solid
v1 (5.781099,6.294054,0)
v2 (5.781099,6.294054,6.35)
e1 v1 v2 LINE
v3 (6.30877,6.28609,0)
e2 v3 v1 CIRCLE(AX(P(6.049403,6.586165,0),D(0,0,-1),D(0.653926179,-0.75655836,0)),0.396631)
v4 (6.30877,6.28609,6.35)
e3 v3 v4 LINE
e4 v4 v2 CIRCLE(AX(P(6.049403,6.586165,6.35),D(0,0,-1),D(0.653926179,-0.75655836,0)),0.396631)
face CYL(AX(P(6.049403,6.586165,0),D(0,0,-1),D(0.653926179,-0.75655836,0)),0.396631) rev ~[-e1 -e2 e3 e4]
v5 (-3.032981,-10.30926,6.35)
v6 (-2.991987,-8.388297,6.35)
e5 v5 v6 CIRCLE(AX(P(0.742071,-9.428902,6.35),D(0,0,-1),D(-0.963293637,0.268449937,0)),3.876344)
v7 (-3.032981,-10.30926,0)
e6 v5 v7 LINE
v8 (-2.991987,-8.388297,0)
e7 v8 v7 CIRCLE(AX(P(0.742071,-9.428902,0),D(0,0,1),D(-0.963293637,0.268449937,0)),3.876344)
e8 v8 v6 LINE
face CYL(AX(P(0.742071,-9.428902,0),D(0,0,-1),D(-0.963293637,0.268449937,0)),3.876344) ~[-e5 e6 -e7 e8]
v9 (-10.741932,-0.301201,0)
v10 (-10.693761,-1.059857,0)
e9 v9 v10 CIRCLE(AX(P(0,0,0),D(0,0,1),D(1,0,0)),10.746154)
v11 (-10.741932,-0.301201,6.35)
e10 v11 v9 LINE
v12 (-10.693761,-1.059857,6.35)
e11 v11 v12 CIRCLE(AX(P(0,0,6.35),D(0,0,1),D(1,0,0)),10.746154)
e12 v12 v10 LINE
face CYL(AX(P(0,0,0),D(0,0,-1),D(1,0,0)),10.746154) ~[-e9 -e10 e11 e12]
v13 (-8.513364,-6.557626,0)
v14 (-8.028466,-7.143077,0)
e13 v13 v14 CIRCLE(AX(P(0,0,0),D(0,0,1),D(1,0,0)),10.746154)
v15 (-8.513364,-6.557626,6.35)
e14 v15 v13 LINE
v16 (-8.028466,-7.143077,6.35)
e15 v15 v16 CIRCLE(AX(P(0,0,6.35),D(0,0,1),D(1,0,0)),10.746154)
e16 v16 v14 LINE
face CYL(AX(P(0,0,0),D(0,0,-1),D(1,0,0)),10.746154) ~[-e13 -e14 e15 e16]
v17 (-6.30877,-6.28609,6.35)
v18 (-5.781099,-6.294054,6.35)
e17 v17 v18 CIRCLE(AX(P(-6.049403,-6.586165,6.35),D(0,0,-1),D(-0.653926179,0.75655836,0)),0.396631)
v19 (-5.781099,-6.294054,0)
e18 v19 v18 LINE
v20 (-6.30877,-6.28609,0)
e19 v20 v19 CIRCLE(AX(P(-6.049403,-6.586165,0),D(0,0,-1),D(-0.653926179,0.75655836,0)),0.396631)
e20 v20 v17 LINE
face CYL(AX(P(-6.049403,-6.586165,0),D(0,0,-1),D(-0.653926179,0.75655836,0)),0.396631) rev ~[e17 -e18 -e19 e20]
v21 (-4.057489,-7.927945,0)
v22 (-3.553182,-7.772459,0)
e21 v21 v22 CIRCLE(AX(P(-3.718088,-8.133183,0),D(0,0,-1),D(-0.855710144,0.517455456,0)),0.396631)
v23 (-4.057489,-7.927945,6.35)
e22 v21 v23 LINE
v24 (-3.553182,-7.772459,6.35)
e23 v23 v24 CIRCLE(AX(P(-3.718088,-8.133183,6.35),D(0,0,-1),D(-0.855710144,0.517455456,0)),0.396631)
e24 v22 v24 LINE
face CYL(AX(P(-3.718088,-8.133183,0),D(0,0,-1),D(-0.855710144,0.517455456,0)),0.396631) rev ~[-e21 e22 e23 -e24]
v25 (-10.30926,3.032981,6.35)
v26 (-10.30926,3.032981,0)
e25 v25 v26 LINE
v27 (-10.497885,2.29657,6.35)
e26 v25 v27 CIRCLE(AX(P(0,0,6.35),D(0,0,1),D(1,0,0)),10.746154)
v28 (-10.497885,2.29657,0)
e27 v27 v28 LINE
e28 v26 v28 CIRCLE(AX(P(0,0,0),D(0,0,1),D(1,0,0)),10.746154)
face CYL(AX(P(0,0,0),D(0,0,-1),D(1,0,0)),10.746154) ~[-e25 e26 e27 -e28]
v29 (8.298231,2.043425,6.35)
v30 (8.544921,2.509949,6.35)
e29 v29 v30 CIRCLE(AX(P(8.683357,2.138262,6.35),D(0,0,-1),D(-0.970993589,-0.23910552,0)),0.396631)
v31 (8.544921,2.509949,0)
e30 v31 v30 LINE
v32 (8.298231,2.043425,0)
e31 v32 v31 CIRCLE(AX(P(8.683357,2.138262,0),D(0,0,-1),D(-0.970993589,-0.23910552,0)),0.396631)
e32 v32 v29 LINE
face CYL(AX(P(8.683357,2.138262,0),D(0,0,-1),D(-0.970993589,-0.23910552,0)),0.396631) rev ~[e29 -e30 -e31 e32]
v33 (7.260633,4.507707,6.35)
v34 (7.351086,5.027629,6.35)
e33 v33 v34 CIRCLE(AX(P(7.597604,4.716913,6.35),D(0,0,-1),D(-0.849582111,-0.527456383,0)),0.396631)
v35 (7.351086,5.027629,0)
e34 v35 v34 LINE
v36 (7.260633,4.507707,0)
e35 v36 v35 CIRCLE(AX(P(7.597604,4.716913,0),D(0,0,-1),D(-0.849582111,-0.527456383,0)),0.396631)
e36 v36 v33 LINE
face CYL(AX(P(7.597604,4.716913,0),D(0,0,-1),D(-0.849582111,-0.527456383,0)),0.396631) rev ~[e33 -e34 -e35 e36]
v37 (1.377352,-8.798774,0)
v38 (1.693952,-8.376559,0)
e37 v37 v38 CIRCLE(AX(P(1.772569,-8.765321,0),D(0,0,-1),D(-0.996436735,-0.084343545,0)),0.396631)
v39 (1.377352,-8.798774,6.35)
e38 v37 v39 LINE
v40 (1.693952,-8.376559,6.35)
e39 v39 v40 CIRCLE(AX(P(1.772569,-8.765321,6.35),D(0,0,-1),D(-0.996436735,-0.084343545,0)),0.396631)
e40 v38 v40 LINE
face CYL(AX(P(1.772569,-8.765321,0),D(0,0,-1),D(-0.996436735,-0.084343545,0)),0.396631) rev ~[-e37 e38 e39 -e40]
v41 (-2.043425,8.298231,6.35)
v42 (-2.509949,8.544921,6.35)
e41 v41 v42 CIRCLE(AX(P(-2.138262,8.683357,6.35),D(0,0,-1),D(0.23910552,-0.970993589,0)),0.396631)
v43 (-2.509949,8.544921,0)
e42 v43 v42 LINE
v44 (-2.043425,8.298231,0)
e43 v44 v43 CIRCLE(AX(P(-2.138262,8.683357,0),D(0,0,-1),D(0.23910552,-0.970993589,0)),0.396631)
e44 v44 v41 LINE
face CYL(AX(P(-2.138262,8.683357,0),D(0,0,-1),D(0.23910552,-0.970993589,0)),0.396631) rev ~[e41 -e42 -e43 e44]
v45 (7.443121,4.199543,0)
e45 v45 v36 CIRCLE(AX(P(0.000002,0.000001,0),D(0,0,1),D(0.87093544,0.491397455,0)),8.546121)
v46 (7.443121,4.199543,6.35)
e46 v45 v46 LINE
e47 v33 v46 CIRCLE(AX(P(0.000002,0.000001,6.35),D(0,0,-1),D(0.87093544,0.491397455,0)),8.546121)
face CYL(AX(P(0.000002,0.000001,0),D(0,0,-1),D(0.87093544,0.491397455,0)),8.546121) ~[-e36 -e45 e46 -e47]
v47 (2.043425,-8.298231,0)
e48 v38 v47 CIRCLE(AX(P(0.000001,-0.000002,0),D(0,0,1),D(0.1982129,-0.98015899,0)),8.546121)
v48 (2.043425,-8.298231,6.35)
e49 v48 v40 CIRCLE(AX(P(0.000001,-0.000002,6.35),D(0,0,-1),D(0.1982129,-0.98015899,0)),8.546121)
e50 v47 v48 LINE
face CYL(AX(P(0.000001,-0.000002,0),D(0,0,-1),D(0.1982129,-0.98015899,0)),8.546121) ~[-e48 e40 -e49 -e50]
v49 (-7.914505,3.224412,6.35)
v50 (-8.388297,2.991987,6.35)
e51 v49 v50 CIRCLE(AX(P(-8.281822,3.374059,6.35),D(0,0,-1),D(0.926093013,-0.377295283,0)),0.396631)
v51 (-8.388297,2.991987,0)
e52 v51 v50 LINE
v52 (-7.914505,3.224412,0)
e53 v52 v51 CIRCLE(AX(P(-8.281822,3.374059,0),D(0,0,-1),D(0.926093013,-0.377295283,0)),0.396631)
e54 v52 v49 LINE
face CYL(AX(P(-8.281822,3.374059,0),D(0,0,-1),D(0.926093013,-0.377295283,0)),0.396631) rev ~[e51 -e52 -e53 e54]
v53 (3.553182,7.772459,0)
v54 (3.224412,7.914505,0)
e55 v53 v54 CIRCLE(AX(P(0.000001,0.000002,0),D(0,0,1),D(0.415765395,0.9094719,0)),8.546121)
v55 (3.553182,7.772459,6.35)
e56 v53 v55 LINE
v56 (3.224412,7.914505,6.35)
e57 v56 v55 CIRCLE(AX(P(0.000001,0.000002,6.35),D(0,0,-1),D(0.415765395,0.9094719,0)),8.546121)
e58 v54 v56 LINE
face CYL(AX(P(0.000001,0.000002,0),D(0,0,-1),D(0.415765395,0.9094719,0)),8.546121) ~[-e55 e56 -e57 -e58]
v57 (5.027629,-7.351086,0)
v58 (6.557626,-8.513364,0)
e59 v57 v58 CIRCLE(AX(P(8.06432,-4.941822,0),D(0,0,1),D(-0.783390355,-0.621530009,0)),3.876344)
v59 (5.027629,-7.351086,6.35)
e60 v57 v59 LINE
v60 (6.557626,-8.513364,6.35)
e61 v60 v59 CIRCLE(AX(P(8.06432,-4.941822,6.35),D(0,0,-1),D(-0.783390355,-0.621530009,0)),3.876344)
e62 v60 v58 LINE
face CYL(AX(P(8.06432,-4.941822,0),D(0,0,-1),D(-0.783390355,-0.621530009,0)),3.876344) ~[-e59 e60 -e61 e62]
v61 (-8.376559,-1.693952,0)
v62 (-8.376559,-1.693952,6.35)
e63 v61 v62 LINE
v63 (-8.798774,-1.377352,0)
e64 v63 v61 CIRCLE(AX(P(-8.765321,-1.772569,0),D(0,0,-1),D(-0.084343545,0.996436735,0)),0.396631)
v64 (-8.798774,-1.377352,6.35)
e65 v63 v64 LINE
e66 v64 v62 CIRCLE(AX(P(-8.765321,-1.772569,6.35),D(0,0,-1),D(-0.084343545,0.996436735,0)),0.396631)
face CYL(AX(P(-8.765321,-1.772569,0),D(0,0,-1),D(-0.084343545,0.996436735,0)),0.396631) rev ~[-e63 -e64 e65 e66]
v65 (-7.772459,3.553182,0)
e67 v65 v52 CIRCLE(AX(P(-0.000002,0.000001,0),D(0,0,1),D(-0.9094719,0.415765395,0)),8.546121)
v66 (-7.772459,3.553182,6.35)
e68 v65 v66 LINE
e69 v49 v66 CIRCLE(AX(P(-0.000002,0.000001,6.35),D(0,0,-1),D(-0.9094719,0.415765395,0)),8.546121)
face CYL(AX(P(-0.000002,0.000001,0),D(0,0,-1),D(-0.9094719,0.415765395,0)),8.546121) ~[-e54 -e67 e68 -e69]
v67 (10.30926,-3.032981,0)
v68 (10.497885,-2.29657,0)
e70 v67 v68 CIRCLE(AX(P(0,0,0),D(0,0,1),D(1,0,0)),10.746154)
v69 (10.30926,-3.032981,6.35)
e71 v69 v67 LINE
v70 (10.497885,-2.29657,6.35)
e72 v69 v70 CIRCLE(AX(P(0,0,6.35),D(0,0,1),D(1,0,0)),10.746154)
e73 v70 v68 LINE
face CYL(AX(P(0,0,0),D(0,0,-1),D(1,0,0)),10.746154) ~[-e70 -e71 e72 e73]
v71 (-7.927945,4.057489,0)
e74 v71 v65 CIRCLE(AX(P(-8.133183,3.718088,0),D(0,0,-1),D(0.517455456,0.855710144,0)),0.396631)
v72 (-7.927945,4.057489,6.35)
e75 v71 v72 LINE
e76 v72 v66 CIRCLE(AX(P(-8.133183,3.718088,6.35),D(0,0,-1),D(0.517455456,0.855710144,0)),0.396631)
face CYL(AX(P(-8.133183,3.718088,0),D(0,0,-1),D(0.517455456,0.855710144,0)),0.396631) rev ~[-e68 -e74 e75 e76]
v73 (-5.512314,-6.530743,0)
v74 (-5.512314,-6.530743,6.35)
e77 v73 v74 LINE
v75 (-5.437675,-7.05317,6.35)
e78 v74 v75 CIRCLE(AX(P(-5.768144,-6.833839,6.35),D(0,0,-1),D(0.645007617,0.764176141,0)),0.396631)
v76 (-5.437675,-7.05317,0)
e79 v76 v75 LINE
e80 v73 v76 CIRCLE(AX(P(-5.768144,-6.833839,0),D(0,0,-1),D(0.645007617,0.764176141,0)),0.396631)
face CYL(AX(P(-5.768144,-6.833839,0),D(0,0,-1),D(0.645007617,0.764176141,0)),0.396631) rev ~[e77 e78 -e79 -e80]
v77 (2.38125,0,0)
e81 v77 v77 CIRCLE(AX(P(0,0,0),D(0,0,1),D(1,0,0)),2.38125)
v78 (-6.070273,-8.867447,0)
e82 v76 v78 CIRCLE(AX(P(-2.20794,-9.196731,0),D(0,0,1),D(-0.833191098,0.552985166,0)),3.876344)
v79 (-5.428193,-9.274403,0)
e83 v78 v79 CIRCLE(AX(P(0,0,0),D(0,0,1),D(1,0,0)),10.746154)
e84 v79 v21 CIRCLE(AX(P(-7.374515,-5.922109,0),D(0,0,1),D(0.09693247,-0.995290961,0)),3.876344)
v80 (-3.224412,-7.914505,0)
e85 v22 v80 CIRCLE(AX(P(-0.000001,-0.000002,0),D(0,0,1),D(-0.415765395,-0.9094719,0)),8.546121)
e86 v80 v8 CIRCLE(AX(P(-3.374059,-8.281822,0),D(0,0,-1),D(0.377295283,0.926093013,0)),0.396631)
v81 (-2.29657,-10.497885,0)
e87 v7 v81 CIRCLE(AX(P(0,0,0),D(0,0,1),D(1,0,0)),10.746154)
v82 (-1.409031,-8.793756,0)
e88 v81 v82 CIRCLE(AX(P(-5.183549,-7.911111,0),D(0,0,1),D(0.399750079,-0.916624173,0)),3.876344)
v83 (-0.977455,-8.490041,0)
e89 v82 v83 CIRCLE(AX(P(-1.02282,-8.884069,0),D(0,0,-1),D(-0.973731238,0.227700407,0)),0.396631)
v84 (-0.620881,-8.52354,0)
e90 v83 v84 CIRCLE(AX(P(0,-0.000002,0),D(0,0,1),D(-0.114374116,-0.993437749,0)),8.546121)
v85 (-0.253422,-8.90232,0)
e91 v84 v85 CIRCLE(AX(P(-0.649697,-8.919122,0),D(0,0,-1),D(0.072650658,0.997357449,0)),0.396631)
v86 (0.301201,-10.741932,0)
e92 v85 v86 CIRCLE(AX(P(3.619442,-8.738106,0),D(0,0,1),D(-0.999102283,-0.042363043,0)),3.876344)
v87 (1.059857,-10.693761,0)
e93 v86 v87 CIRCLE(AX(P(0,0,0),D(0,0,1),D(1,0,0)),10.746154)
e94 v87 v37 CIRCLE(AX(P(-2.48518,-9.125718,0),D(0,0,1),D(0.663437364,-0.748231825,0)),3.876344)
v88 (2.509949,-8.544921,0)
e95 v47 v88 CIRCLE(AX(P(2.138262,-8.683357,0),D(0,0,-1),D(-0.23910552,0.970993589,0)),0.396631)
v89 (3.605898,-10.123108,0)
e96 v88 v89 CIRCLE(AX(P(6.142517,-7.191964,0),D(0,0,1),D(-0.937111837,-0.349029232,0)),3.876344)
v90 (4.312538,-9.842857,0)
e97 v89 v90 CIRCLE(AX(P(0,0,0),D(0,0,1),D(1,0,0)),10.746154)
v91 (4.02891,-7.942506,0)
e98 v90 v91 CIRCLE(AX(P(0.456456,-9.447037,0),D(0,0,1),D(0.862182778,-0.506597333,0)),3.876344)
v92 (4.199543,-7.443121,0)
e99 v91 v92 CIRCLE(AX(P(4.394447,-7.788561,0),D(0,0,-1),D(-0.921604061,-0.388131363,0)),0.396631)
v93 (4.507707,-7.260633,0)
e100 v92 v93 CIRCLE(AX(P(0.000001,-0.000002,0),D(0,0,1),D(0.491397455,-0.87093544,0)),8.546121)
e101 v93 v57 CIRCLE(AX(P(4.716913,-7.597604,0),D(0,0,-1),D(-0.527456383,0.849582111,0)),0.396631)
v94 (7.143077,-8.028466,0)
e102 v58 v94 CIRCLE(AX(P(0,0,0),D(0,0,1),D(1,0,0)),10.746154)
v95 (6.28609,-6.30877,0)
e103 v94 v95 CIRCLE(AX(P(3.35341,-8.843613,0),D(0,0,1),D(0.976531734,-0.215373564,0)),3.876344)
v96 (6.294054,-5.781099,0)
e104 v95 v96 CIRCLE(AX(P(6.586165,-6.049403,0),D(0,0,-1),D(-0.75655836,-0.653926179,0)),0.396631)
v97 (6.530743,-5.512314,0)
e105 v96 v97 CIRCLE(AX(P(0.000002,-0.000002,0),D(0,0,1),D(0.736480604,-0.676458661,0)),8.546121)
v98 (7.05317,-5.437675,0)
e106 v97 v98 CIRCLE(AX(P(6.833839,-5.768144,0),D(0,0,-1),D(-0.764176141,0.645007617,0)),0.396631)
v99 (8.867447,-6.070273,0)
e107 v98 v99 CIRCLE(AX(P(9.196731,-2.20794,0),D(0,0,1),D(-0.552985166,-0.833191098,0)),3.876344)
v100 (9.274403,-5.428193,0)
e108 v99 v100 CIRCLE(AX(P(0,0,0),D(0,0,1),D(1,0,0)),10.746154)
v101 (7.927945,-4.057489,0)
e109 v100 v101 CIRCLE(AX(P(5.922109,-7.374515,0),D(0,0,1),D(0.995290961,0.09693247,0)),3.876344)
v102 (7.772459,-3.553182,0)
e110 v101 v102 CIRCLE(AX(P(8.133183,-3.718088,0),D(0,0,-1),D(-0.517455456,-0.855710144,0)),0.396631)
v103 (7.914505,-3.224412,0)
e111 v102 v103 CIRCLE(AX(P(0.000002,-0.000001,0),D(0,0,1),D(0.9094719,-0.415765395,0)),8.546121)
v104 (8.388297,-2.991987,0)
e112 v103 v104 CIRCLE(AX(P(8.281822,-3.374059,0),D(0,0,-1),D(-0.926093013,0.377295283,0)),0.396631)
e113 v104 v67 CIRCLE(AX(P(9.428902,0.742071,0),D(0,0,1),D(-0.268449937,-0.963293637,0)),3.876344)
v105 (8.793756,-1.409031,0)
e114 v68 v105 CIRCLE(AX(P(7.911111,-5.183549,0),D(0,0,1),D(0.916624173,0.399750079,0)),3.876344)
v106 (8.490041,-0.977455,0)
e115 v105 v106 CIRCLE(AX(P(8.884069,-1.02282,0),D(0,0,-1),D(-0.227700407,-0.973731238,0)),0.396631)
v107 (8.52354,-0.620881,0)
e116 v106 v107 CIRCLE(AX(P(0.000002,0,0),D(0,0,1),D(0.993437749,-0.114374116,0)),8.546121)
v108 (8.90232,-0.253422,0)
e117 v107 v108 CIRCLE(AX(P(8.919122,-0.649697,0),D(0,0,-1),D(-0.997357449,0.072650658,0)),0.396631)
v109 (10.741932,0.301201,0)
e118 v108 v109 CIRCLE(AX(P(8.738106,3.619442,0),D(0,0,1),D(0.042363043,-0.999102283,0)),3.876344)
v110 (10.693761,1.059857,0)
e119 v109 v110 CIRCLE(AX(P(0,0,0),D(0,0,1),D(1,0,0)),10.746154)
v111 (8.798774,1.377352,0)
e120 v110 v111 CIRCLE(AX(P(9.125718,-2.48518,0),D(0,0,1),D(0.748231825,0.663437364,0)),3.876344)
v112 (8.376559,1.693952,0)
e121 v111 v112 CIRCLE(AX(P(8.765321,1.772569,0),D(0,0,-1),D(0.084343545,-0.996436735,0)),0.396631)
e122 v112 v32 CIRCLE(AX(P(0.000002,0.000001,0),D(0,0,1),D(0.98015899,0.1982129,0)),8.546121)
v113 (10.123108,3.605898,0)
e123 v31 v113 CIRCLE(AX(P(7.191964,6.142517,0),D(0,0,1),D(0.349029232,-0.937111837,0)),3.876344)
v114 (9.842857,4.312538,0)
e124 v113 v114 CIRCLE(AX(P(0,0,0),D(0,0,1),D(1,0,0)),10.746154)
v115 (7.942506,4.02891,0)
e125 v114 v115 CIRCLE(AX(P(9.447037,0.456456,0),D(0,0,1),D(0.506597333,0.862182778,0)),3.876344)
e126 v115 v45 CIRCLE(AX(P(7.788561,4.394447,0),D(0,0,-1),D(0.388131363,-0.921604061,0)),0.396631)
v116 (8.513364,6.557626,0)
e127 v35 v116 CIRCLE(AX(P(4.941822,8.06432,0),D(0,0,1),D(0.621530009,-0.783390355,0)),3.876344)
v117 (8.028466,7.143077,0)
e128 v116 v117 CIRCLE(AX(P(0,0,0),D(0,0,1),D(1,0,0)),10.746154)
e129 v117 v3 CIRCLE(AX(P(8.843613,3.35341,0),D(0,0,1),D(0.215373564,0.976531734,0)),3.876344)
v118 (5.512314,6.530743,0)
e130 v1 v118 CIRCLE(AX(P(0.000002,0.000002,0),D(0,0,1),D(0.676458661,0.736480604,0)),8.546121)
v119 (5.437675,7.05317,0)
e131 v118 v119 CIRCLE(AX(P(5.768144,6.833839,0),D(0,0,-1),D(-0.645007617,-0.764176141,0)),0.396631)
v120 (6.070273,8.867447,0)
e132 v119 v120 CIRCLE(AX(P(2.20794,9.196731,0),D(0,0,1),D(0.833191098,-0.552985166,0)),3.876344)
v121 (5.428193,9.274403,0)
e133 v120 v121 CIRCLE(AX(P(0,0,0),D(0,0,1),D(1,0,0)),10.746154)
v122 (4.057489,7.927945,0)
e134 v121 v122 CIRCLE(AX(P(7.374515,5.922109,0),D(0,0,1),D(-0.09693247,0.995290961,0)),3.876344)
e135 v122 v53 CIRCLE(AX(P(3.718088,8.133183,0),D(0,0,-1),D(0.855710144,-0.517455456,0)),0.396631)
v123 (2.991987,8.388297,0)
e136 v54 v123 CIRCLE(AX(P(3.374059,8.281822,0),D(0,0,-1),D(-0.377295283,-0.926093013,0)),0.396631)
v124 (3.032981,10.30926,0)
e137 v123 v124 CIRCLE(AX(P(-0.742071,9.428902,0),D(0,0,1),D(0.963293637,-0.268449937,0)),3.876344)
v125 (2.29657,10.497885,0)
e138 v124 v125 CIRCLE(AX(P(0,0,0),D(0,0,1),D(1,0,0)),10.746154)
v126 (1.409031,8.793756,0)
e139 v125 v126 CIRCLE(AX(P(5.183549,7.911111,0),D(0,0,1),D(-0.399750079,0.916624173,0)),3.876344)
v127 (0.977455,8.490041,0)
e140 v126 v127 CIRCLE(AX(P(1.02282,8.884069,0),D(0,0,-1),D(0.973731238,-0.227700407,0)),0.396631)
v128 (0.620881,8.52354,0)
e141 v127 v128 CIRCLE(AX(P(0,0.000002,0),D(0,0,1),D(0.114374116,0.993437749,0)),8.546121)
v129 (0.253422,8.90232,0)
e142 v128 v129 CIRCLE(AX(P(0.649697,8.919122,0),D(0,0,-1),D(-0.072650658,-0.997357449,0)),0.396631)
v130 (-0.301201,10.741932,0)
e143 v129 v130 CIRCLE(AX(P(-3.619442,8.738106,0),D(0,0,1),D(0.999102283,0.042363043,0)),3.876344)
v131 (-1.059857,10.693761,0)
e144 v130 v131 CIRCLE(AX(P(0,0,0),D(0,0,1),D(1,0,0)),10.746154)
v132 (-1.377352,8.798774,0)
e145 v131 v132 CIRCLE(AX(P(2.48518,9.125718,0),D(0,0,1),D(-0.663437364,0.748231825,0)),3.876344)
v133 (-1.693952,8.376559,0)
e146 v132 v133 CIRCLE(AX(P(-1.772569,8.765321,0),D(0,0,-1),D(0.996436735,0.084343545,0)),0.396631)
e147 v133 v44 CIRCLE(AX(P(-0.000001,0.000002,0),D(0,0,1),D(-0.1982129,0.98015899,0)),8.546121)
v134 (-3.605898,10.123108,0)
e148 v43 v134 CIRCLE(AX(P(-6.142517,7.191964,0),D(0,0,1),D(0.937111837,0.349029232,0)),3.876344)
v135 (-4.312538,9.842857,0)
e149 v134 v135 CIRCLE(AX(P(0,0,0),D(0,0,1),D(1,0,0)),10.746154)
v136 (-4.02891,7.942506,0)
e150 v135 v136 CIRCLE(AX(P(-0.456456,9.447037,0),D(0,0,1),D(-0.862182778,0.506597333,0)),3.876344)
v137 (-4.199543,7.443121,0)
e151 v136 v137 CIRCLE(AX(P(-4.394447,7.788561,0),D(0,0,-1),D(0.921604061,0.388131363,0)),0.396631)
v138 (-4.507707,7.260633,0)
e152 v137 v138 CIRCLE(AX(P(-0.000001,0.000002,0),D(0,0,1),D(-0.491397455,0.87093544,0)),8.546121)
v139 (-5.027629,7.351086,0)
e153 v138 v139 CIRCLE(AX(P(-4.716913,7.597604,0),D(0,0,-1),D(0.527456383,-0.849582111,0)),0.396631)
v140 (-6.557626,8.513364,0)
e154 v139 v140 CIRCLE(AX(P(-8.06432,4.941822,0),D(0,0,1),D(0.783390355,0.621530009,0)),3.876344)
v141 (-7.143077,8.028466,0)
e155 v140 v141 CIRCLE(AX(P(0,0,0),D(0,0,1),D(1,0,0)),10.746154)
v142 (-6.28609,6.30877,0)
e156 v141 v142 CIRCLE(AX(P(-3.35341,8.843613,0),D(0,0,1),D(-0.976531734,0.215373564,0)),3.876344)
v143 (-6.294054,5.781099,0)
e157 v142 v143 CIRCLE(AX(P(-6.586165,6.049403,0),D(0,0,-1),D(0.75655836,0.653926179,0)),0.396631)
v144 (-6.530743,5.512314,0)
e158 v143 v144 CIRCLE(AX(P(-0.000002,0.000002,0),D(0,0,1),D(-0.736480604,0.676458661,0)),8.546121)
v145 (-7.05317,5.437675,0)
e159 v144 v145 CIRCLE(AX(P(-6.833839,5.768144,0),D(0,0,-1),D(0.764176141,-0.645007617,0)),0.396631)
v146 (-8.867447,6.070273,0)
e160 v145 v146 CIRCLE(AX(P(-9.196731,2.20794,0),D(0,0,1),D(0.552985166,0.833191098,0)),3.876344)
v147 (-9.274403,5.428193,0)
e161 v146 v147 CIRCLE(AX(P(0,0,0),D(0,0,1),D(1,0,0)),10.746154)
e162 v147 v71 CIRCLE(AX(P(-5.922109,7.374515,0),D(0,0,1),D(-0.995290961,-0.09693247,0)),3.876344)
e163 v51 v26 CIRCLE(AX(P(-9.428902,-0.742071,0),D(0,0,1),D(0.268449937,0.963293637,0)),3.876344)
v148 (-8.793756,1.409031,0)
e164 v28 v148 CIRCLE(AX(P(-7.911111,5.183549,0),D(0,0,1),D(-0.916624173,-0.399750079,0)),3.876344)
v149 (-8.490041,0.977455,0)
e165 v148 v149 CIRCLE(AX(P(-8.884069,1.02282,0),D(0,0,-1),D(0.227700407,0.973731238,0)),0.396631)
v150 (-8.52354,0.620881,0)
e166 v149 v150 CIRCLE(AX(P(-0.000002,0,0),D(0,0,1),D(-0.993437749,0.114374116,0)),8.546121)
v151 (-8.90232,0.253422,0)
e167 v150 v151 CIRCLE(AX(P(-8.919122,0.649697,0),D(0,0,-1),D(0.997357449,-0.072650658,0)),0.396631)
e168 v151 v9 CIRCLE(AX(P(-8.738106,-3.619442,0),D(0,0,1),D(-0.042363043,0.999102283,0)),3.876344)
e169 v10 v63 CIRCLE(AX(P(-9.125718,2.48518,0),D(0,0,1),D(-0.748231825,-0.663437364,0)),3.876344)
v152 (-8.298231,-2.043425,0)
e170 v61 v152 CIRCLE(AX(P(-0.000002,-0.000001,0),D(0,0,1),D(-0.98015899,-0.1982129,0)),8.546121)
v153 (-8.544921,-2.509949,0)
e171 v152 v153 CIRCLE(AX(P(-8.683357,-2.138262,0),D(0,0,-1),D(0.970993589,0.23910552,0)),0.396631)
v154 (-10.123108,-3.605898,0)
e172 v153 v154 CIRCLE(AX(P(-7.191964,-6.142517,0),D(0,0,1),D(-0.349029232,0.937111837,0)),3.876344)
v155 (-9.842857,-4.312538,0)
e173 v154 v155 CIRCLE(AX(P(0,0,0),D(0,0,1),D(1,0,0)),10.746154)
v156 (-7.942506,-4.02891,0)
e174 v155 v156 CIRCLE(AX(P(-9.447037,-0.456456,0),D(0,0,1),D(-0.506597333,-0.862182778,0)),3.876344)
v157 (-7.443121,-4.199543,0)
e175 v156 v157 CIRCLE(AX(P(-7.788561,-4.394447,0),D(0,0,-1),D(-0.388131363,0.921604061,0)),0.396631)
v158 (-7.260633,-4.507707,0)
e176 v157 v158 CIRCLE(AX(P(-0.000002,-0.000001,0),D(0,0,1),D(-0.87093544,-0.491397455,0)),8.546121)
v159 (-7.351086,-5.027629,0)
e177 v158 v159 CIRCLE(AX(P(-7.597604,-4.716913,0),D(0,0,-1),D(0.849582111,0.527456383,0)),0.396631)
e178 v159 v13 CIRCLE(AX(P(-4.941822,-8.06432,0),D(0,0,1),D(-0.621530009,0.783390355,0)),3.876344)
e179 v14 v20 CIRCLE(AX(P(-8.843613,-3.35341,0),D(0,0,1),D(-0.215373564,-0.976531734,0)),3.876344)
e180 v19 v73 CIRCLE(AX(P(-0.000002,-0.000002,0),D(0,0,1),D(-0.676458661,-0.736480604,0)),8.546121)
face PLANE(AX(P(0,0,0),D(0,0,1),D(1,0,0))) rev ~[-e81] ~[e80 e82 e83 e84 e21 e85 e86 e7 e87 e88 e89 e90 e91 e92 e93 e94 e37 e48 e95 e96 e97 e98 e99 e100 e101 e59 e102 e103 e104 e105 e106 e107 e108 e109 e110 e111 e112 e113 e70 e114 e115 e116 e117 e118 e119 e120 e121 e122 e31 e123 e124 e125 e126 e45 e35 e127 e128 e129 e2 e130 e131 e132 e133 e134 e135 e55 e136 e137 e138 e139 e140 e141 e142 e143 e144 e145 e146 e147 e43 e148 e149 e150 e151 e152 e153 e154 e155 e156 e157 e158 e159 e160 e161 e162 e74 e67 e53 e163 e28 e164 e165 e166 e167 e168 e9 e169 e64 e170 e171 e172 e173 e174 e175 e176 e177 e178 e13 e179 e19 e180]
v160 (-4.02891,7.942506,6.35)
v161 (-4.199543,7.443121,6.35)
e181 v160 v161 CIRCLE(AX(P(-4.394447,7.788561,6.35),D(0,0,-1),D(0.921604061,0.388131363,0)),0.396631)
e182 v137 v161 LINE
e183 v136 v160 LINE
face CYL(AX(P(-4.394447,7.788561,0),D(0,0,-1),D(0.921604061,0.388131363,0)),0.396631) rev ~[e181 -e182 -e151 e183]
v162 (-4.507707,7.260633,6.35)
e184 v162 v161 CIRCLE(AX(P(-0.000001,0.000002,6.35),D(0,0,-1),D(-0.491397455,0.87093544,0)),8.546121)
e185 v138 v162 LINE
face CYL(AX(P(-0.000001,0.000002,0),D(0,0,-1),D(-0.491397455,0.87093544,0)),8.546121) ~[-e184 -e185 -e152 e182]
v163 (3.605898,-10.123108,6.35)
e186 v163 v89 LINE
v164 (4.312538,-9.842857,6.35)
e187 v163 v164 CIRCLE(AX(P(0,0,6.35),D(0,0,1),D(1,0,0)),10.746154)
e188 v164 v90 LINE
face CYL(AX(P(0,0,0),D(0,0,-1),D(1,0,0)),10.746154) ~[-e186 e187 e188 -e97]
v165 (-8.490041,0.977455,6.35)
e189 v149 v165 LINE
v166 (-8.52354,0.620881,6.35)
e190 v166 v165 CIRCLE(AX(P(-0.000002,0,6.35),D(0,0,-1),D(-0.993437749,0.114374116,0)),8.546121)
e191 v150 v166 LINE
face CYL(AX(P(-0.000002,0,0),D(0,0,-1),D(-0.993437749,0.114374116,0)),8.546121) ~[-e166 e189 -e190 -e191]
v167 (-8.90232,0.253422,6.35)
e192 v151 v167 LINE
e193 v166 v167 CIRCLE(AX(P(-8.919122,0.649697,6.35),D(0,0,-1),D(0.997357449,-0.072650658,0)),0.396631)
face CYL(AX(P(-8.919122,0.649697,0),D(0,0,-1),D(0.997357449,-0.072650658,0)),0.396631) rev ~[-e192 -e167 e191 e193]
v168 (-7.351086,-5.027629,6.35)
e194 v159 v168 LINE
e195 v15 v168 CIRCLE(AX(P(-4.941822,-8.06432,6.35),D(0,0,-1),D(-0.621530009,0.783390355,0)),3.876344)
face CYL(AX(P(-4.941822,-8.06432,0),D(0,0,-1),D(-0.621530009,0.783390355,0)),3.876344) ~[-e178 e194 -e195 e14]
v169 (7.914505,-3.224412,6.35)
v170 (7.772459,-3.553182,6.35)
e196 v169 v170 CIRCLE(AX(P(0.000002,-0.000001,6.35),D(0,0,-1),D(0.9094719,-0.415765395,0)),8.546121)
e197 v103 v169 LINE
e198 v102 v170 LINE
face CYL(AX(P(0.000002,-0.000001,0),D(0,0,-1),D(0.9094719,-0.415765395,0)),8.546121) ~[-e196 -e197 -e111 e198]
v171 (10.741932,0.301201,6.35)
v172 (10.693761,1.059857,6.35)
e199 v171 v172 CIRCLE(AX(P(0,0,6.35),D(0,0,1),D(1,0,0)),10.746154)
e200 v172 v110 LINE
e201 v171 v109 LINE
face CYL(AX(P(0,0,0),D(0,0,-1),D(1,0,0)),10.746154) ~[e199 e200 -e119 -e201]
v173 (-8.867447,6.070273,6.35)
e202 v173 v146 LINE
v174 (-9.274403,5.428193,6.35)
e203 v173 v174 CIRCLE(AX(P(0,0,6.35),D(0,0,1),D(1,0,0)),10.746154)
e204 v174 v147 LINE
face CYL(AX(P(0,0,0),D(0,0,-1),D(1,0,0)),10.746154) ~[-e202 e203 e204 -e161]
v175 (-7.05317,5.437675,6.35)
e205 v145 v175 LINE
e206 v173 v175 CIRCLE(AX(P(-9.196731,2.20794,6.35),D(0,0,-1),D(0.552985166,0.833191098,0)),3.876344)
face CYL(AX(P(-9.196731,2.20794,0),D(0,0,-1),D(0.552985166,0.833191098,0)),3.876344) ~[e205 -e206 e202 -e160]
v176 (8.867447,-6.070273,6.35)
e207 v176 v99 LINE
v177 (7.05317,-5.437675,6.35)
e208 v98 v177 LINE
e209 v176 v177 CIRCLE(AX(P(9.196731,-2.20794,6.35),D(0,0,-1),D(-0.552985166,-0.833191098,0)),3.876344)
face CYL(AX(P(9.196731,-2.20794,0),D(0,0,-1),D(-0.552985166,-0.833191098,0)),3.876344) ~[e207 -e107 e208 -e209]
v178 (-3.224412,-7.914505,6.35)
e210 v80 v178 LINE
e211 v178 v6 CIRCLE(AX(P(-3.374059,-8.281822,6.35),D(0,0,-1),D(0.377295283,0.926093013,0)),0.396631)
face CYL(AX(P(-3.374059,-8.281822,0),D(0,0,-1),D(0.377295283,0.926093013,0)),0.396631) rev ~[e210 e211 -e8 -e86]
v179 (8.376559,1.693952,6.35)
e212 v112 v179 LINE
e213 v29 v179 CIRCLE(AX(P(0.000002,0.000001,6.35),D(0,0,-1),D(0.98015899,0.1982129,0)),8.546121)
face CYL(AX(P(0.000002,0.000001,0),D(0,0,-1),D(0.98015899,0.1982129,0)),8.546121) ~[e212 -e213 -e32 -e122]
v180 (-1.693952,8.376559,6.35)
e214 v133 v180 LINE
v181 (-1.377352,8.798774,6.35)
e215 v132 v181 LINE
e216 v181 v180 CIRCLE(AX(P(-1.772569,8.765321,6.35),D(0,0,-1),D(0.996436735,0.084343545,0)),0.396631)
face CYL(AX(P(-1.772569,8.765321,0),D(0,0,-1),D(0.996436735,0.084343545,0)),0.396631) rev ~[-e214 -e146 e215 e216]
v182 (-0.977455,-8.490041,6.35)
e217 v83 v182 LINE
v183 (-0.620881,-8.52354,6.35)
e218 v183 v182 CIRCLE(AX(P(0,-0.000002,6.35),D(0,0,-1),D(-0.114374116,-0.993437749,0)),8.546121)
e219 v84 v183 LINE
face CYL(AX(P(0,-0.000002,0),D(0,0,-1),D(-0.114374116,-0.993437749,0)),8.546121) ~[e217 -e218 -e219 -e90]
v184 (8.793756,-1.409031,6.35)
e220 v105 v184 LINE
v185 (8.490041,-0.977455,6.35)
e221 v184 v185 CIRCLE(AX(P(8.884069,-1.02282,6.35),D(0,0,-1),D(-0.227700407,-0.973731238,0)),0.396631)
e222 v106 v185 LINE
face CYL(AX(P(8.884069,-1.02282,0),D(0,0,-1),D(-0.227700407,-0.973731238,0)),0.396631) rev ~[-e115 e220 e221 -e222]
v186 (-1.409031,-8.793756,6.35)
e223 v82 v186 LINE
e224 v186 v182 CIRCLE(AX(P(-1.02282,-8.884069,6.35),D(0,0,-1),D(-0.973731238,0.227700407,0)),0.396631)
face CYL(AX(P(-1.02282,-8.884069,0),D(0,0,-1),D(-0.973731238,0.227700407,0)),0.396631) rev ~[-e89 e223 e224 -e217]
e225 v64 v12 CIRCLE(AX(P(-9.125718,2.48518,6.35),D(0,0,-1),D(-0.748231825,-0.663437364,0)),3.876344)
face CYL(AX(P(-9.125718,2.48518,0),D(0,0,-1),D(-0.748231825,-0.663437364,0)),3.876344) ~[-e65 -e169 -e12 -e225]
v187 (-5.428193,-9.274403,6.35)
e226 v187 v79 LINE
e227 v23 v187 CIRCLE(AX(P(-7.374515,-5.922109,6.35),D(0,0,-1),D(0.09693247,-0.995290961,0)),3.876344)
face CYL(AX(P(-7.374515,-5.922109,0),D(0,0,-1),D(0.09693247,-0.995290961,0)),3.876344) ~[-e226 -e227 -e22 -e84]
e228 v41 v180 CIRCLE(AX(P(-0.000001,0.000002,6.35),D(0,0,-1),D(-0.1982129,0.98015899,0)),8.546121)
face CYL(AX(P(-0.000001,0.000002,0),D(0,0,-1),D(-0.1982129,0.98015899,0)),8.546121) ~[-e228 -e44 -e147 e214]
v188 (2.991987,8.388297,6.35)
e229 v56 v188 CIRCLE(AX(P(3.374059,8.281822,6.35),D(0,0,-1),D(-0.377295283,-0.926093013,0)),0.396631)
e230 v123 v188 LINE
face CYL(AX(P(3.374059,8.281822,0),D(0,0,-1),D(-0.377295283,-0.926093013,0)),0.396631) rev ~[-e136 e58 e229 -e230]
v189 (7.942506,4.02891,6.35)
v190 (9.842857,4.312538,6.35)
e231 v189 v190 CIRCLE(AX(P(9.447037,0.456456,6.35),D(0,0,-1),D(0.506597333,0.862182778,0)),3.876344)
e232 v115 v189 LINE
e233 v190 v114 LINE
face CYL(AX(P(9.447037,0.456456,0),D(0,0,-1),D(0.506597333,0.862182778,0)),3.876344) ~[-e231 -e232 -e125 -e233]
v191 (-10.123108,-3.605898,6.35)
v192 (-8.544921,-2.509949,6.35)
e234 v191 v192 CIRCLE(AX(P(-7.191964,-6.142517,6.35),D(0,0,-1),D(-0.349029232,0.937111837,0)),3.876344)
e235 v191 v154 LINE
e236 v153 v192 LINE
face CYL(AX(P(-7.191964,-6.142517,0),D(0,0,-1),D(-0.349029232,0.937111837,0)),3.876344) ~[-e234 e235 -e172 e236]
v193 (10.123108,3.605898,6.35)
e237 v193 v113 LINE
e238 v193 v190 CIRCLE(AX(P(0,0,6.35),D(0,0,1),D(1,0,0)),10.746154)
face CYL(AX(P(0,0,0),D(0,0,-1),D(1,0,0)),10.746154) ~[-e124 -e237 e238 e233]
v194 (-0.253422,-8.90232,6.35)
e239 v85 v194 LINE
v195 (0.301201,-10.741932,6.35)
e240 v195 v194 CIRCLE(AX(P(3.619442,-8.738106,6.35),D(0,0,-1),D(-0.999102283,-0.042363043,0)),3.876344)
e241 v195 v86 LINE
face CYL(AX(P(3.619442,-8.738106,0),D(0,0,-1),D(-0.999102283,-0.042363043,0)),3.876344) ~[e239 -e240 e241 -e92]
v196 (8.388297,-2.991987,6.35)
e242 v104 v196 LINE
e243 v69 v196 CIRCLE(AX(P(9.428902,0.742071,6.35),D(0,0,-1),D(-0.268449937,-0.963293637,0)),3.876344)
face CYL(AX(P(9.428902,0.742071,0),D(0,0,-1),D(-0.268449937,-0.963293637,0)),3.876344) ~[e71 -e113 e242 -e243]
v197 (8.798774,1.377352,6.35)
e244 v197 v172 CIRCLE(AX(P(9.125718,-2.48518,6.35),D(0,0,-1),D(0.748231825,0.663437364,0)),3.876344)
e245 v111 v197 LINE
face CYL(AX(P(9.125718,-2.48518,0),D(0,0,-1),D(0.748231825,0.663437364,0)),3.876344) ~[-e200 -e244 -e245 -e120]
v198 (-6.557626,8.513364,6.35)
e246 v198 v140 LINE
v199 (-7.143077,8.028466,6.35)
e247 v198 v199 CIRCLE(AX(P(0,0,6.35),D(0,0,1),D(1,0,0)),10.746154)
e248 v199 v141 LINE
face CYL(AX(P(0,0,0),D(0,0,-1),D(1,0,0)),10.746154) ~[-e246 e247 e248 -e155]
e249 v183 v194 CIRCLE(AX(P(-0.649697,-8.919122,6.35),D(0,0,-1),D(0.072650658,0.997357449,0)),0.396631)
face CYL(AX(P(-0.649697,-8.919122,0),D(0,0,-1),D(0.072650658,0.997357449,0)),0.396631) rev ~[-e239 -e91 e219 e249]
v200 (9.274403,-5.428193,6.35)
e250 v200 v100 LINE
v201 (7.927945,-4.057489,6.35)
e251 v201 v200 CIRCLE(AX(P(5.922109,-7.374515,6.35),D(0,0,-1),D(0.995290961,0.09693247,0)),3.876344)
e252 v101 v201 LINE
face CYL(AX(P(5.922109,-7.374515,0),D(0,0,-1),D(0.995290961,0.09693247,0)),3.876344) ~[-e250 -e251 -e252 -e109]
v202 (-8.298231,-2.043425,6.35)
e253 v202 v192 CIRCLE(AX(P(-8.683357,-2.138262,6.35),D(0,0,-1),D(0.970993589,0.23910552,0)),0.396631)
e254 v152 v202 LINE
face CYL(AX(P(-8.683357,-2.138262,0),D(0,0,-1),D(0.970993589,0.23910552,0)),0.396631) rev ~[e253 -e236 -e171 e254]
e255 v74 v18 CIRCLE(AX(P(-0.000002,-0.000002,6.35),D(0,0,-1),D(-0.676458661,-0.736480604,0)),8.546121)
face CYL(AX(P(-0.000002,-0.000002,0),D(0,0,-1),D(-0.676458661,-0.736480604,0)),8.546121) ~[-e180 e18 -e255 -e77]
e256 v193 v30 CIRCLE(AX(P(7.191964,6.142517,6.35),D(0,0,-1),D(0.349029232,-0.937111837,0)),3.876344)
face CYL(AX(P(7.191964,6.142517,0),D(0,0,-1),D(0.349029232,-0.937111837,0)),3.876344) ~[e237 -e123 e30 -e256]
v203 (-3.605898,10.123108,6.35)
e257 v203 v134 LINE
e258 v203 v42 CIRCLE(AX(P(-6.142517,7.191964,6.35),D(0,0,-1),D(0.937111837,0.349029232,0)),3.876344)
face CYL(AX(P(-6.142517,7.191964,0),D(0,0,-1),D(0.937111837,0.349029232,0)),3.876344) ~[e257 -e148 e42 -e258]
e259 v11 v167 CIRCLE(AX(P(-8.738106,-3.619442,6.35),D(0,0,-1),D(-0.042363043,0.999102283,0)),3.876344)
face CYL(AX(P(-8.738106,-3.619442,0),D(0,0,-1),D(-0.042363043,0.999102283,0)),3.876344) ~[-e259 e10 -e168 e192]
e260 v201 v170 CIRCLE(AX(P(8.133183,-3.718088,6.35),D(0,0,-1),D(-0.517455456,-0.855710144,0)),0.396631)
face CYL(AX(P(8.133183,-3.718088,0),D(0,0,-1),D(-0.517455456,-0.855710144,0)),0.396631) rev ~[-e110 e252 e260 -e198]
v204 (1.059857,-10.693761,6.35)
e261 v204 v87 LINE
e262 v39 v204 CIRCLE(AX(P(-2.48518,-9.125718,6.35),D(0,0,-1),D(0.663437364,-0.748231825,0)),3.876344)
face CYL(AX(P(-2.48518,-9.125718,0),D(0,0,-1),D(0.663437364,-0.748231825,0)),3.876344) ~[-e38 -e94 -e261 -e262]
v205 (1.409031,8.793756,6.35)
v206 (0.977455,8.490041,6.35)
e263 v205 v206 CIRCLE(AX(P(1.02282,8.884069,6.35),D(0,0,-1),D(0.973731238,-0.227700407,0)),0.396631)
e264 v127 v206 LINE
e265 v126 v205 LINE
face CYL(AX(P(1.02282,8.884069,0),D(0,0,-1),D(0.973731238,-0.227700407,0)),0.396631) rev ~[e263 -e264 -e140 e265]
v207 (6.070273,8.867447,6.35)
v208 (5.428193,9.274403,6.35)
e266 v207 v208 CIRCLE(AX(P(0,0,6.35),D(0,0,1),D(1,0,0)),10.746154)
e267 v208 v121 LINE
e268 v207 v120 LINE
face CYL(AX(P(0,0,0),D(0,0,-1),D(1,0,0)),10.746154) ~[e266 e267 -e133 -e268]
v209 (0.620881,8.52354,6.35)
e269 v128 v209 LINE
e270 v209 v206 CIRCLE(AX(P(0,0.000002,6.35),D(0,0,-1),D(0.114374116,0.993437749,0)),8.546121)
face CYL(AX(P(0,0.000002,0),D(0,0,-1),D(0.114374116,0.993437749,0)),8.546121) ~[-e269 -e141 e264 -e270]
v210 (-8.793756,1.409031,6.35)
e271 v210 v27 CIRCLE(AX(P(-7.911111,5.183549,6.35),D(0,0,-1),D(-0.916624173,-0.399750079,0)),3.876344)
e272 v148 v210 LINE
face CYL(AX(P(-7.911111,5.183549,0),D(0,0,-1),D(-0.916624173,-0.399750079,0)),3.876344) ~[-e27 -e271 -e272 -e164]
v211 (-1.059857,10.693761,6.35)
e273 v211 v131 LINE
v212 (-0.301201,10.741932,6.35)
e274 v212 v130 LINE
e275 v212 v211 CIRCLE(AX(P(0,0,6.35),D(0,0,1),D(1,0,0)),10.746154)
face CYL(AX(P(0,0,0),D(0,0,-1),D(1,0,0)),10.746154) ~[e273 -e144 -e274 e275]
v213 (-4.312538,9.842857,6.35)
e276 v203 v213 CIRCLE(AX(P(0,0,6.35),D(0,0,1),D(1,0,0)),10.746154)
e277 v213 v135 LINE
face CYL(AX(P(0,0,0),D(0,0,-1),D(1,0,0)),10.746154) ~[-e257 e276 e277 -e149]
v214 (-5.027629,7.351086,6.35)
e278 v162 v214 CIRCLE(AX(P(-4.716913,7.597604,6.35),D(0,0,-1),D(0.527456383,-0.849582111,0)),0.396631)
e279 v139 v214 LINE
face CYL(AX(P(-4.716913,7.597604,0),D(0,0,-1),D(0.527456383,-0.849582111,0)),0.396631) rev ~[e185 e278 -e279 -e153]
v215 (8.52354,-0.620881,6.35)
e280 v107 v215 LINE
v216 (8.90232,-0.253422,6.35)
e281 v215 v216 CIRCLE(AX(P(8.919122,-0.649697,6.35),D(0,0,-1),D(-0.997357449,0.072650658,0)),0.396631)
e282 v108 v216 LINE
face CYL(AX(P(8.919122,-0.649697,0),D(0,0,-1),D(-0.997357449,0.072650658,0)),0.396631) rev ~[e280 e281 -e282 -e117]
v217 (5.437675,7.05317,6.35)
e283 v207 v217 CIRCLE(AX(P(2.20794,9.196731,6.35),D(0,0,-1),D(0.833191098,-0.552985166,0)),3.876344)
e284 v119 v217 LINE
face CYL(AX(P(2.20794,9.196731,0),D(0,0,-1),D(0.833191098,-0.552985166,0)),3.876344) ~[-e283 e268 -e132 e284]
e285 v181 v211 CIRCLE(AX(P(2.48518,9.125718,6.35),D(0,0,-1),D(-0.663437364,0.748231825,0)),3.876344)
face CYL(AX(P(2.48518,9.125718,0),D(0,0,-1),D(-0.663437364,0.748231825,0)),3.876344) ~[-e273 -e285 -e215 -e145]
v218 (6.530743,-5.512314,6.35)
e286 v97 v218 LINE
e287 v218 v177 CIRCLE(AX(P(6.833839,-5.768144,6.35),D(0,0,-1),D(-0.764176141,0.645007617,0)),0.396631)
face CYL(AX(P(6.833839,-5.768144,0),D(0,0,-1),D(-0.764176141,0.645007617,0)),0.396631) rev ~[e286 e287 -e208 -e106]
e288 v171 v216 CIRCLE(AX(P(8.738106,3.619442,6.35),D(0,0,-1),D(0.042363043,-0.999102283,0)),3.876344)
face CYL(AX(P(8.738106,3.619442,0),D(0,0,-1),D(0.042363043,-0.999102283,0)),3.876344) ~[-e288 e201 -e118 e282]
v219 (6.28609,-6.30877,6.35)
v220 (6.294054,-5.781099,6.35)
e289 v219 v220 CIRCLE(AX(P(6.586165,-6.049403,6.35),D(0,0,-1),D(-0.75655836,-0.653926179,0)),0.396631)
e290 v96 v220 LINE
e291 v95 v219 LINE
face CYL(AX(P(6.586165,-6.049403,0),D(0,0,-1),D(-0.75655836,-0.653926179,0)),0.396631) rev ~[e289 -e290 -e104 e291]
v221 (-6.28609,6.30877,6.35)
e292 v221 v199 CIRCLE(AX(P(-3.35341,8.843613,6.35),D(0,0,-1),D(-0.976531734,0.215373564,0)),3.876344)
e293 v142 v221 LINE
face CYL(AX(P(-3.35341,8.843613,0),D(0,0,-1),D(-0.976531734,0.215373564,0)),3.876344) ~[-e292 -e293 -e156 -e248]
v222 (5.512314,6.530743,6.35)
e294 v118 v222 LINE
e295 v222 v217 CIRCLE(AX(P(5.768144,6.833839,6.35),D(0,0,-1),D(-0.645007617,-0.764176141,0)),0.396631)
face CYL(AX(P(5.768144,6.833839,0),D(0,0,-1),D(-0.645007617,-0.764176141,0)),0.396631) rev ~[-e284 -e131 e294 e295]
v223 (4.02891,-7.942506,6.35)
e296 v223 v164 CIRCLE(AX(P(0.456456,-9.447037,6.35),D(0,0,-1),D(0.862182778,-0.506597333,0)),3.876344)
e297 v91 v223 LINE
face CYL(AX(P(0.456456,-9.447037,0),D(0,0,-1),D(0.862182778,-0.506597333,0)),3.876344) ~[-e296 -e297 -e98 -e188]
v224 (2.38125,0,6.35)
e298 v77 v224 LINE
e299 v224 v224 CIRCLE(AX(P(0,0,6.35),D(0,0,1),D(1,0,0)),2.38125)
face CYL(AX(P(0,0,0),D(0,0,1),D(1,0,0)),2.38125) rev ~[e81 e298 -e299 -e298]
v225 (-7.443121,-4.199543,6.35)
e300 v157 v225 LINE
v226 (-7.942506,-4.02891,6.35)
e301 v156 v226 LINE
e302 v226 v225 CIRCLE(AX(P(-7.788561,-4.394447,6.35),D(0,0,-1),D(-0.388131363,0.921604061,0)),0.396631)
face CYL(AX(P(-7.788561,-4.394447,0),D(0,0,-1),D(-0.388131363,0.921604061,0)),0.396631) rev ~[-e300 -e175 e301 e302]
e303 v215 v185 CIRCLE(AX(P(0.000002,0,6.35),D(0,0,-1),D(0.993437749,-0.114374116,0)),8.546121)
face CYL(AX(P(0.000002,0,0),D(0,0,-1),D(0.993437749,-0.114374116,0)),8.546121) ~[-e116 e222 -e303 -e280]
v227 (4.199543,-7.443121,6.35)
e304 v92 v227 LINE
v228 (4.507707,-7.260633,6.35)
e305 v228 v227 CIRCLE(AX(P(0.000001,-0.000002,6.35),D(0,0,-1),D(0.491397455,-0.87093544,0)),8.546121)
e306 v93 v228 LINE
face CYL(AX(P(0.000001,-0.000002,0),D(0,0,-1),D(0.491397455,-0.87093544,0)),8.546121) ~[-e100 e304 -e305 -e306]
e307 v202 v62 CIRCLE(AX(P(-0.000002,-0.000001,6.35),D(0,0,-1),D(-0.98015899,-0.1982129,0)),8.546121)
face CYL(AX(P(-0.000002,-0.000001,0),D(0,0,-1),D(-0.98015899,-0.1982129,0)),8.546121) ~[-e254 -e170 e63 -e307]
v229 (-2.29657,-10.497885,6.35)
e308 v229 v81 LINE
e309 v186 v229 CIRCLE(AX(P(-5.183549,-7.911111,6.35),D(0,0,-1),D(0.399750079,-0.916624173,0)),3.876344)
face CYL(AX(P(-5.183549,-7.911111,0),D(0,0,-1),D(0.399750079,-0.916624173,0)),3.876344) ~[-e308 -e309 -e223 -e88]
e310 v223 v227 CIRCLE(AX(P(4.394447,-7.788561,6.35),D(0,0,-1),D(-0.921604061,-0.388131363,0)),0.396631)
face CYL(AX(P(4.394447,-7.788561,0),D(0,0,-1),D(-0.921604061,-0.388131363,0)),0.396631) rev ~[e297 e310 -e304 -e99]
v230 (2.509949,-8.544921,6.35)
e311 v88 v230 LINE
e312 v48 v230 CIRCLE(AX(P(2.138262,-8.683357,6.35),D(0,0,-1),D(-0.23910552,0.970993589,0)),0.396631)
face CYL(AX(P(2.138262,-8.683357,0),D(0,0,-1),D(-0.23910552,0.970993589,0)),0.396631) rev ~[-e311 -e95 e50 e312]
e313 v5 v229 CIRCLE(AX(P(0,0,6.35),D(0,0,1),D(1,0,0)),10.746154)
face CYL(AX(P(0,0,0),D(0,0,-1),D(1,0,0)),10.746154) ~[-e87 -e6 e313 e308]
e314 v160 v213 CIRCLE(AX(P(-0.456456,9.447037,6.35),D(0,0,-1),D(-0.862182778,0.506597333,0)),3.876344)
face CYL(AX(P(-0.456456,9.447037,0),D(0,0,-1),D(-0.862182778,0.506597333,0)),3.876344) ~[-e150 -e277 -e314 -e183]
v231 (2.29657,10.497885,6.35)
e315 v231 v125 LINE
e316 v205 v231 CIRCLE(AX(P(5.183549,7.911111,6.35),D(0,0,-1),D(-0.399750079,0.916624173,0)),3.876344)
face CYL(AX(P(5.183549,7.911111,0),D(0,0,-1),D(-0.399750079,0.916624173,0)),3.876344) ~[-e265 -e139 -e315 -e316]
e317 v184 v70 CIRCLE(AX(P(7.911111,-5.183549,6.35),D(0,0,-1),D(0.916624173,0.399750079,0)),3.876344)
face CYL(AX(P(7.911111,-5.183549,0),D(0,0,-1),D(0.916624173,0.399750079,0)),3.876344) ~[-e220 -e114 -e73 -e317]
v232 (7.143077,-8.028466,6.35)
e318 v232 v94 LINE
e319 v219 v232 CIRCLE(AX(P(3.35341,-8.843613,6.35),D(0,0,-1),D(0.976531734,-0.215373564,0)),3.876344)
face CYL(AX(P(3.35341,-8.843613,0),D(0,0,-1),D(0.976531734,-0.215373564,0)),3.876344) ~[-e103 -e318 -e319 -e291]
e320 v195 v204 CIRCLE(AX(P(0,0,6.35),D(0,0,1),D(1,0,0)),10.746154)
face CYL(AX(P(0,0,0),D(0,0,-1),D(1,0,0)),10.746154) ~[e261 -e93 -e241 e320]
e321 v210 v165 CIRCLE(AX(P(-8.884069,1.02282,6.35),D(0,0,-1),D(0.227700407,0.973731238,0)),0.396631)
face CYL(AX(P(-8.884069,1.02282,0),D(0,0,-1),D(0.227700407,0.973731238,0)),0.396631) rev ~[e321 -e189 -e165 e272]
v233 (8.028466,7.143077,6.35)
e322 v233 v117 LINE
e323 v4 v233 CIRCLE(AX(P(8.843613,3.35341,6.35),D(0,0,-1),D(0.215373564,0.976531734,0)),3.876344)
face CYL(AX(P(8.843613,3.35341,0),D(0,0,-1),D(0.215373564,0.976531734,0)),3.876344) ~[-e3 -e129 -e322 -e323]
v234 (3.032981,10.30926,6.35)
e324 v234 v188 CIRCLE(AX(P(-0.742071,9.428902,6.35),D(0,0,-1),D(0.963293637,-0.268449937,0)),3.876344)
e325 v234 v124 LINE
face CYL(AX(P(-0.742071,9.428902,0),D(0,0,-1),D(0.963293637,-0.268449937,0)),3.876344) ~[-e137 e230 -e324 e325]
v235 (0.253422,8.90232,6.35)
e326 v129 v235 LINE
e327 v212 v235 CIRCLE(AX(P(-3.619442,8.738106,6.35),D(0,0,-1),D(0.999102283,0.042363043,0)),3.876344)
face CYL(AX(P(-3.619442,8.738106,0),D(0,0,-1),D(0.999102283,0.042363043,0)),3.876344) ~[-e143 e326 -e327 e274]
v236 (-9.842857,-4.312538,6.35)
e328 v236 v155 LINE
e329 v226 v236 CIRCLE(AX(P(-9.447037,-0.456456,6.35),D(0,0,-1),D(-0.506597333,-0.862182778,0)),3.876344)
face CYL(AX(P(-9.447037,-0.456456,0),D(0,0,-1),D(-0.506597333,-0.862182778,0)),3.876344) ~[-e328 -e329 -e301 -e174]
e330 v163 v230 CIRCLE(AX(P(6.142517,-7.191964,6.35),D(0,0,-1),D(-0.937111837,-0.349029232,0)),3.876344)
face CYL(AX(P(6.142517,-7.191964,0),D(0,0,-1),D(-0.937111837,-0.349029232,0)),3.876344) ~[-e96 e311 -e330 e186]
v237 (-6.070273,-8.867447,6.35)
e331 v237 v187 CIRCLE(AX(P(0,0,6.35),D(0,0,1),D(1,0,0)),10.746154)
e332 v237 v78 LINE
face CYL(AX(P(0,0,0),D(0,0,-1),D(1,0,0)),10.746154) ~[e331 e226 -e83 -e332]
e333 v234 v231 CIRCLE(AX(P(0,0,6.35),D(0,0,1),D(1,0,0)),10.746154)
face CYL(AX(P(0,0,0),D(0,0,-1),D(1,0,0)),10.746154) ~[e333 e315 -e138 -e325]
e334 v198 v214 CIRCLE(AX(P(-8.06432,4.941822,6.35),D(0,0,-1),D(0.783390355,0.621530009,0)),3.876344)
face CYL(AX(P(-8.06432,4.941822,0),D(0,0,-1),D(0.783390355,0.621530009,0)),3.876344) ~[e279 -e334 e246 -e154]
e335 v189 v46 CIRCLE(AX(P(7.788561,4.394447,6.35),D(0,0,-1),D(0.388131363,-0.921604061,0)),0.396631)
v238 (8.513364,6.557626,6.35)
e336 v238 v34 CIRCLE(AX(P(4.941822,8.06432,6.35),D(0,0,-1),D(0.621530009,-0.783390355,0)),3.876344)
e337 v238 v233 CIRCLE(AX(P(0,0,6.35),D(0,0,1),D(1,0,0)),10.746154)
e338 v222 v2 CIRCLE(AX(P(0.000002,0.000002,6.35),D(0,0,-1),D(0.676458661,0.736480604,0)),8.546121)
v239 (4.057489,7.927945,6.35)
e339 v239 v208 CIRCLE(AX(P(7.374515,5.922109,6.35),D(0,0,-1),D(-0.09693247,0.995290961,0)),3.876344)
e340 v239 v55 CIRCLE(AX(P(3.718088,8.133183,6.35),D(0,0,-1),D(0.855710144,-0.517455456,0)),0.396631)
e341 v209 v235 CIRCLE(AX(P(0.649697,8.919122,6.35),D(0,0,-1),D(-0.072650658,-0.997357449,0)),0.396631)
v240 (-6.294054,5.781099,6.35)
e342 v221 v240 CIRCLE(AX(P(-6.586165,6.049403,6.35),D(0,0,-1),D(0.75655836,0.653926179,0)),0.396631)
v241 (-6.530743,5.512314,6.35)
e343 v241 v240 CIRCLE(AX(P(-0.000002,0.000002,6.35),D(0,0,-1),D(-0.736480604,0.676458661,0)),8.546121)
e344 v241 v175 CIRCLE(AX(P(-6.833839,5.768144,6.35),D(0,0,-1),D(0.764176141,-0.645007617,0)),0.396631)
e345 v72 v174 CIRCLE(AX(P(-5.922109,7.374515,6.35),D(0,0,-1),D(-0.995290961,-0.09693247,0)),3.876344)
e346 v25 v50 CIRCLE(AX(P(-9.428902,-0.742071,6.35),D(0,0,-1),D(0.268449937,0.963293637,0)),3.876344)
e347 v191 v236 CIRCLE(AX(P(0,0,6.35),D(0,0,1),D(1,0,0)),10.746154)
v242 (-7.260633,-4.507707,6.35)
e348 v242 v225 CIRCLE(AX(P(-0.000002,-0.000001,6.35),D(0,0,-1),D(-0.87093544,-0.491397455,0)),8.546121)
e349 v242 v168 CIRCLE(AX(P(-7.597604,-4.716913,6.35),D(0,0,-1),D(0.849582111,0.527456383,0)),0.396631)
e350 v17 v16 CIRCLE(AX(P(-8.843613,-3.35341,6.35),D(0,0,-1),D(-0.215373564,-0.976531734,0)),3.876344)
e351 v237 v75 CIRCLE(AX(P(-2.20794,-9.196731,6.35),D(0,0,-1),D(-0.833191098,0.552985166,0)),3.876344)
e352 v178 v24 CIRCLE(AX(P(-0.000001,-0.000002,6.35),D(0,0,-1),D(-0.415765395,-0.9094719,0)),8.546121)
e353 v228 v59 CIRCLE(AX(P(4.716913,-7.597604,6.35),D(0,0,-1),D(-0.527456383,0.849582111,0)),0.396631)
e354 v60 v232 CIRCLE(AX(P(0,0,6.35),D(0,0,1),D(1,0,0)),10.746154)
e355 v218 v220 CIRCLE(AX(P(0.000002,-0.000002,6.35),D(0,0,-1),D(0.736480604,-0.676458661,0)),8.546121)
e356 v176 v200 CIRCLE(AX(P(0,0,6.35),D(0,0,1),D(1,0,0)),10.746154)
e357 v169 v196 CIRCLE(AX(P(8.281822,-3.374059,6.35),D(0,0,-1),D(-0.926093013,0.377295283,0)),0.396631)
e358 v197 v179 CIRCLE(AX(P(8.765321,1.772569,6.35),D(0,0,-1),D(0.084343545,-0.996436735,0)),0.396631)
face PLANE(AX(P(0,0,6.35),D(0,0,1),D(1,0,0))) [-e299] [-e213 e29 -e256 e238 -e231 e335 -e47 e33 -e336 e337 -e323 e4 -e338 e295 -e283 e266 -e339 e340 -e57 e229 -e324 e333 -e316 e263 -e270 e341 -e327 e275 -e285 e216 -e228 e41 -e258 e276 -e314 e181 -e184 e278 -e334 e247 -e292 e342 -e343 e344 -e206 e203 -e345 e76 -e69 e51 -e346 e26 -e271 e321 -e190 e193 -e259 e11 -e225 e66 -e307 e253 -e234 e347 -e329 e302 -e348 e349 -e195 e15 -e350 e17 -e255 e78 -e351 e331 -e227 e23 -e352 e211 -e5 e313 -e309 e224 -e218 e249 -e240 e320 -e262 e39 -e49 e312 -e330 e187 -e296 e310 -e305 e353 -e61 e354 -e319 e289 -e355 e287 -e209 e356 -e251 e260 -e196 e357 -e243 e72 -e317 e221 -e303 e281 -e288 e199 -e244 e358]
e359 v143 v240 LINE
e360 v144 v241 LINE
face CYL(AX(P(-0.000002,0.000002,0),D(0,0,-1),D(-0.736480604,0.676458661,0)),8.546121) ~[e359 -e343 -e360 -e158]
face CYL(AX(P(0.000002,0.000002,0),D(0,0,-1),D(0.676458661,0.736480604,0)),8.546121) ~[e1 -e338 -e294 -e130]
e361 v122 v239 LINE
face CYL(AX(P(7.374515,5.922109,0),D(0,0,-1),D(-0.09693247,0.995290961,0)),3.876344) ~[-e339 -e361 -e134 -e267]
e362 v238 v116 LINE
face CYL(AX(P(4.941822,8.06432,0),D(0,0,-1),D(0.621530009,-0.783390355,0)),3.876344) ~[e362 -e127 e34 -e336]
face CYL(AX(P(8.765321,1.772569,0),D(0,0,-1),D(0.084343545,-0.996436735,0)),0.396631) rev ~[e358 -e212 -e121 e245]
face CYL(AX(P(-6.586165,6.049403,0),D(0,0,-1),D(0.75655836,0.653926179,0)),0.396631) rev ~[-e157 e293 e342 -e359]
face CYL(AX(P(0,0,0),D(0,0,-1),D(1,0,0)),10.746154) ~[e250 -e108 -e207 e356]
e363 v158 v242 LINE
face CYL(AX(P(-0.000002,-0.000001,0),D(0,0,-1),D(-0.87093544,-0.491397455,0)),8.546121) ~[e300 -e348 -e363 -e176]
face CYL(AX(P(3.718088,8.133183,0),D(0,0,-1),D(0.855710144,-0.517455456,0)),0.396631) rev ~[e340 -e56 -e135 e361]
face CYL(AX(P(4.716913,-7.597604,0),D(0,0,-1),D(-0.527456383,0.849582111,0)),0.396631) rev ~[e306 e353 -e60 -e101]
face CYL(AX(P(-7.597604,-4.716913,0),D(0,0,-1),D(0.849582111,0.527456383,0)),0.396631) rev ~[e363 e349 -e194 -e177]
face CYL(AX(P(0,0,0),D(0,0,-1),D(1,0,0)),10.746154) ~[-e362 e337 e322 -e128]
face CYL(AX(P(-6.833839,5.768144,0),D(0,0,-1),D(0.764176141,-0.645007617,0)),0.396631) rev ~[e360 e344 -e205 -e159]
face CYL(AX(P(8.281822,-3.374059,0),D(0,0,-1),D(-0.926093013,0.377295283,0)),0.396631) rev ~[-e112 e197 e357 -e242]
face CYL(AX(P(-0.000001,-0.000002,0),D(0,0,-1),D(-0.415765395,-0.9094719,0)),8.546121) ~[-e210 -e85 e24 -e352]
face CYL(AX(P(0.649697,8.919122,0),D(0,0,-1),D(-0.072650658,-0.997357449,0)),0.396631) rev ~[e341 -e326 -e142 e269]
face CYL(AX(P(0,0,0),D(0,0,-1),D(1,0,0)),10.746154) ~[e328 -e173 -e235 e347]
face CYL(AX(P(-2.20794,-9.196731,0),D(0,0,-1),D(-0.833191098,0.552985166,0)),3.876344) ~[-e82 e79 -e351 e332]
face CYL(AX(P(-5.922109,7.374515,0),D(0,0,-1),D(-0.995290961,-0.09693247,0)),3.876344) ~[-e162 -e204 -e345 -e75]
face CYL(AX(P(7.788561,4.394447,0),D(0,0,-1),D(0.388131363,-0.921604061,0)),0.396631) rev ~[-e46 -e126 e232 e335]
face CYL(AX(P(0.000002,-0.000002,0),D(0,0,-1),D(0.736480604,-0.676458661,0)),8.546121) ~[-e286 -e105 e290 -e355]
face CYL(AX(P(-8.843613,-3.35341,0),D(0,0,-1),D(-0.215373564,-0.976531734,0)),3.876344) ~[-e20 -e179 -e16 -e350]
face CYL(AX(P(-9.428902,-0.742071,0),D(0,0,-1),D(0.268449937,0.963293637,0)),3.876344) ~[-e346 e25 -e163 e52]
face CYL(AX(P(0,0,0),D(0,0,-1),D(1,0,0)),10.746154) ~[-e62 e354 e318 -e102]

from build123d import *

# Parameters (mm, degrees)
SKETCH3_R         = 10.746153846
GEARBODY_DEPTH    = 6.35
TOOTHCUT_DEPTH    = 17.470644947
CIRPATTERN1_COUNT = 20
BOREDIA_R         = 2.38125
BORE_DEPTH        = 12700


with BuildPart() as part:
    # Sketch3 → gearBody (new body)
    with BuildSketch(Plane.XY):
        Circle(SKETCH3_R)
    extrude(amount=GEARBODY_DEPTH)

    # Sketch2 → toothCut (cut, through all)
    with BuildSketch(Plane.XY):
        with BuildLine():
            ThreePointArc((8.490041281, -0.977455211), (8.508658478, -0.79934383), (8.523539515, -0.620881456))
            ThreePointArc((8.523539515, -0.620881456), (8.642948408, -0.365014625), (8.902319681, -0.253422235))
            ThreePointArc((8.902319681, -0.253422235), (10.621287798, 0.231275883), (11.940487157, 1.435226341))
            ThreePointArc((11.940487157, 1.435226341), (11.973712099, -1.124867441), (11.464261837, -3.633979735))
            ThreePointArc((11.464261837, -3.633979735), (10.39237495, -2.205399267), (8.793756274, -1.409031273))
            ThreePointArc((8.793756274, -1.409031273), (8.559706783, -1.25108459), (8.490041281, -0.977455211))
        make_face()
    toothcut = extrude(amount=TOOTHCUT_DEPTH, mode=Mode.SUBTRACT)

    # CirPattern1: toothCut ×20 about axis
    cirpattern1_axis = Axis((0, 0, 6.35), (0, 0, -1))
    for i in range(1, CIRPATTERN1_COUNT):
        add(toothcut.rotate(cirpattern1_axis, i * 360 / CIRPATTERN1_COUNT), mode=Mode.SUBTRACT)

    # boreDia → bore (cut, symmetric)
    with BuildSketch(Plane.XY):
        Circle(BOREDIA_R)
    extrude(amount=BORE_DEPTH, both=True, mode=Mode.SUBTRACT)


solid = part.part
